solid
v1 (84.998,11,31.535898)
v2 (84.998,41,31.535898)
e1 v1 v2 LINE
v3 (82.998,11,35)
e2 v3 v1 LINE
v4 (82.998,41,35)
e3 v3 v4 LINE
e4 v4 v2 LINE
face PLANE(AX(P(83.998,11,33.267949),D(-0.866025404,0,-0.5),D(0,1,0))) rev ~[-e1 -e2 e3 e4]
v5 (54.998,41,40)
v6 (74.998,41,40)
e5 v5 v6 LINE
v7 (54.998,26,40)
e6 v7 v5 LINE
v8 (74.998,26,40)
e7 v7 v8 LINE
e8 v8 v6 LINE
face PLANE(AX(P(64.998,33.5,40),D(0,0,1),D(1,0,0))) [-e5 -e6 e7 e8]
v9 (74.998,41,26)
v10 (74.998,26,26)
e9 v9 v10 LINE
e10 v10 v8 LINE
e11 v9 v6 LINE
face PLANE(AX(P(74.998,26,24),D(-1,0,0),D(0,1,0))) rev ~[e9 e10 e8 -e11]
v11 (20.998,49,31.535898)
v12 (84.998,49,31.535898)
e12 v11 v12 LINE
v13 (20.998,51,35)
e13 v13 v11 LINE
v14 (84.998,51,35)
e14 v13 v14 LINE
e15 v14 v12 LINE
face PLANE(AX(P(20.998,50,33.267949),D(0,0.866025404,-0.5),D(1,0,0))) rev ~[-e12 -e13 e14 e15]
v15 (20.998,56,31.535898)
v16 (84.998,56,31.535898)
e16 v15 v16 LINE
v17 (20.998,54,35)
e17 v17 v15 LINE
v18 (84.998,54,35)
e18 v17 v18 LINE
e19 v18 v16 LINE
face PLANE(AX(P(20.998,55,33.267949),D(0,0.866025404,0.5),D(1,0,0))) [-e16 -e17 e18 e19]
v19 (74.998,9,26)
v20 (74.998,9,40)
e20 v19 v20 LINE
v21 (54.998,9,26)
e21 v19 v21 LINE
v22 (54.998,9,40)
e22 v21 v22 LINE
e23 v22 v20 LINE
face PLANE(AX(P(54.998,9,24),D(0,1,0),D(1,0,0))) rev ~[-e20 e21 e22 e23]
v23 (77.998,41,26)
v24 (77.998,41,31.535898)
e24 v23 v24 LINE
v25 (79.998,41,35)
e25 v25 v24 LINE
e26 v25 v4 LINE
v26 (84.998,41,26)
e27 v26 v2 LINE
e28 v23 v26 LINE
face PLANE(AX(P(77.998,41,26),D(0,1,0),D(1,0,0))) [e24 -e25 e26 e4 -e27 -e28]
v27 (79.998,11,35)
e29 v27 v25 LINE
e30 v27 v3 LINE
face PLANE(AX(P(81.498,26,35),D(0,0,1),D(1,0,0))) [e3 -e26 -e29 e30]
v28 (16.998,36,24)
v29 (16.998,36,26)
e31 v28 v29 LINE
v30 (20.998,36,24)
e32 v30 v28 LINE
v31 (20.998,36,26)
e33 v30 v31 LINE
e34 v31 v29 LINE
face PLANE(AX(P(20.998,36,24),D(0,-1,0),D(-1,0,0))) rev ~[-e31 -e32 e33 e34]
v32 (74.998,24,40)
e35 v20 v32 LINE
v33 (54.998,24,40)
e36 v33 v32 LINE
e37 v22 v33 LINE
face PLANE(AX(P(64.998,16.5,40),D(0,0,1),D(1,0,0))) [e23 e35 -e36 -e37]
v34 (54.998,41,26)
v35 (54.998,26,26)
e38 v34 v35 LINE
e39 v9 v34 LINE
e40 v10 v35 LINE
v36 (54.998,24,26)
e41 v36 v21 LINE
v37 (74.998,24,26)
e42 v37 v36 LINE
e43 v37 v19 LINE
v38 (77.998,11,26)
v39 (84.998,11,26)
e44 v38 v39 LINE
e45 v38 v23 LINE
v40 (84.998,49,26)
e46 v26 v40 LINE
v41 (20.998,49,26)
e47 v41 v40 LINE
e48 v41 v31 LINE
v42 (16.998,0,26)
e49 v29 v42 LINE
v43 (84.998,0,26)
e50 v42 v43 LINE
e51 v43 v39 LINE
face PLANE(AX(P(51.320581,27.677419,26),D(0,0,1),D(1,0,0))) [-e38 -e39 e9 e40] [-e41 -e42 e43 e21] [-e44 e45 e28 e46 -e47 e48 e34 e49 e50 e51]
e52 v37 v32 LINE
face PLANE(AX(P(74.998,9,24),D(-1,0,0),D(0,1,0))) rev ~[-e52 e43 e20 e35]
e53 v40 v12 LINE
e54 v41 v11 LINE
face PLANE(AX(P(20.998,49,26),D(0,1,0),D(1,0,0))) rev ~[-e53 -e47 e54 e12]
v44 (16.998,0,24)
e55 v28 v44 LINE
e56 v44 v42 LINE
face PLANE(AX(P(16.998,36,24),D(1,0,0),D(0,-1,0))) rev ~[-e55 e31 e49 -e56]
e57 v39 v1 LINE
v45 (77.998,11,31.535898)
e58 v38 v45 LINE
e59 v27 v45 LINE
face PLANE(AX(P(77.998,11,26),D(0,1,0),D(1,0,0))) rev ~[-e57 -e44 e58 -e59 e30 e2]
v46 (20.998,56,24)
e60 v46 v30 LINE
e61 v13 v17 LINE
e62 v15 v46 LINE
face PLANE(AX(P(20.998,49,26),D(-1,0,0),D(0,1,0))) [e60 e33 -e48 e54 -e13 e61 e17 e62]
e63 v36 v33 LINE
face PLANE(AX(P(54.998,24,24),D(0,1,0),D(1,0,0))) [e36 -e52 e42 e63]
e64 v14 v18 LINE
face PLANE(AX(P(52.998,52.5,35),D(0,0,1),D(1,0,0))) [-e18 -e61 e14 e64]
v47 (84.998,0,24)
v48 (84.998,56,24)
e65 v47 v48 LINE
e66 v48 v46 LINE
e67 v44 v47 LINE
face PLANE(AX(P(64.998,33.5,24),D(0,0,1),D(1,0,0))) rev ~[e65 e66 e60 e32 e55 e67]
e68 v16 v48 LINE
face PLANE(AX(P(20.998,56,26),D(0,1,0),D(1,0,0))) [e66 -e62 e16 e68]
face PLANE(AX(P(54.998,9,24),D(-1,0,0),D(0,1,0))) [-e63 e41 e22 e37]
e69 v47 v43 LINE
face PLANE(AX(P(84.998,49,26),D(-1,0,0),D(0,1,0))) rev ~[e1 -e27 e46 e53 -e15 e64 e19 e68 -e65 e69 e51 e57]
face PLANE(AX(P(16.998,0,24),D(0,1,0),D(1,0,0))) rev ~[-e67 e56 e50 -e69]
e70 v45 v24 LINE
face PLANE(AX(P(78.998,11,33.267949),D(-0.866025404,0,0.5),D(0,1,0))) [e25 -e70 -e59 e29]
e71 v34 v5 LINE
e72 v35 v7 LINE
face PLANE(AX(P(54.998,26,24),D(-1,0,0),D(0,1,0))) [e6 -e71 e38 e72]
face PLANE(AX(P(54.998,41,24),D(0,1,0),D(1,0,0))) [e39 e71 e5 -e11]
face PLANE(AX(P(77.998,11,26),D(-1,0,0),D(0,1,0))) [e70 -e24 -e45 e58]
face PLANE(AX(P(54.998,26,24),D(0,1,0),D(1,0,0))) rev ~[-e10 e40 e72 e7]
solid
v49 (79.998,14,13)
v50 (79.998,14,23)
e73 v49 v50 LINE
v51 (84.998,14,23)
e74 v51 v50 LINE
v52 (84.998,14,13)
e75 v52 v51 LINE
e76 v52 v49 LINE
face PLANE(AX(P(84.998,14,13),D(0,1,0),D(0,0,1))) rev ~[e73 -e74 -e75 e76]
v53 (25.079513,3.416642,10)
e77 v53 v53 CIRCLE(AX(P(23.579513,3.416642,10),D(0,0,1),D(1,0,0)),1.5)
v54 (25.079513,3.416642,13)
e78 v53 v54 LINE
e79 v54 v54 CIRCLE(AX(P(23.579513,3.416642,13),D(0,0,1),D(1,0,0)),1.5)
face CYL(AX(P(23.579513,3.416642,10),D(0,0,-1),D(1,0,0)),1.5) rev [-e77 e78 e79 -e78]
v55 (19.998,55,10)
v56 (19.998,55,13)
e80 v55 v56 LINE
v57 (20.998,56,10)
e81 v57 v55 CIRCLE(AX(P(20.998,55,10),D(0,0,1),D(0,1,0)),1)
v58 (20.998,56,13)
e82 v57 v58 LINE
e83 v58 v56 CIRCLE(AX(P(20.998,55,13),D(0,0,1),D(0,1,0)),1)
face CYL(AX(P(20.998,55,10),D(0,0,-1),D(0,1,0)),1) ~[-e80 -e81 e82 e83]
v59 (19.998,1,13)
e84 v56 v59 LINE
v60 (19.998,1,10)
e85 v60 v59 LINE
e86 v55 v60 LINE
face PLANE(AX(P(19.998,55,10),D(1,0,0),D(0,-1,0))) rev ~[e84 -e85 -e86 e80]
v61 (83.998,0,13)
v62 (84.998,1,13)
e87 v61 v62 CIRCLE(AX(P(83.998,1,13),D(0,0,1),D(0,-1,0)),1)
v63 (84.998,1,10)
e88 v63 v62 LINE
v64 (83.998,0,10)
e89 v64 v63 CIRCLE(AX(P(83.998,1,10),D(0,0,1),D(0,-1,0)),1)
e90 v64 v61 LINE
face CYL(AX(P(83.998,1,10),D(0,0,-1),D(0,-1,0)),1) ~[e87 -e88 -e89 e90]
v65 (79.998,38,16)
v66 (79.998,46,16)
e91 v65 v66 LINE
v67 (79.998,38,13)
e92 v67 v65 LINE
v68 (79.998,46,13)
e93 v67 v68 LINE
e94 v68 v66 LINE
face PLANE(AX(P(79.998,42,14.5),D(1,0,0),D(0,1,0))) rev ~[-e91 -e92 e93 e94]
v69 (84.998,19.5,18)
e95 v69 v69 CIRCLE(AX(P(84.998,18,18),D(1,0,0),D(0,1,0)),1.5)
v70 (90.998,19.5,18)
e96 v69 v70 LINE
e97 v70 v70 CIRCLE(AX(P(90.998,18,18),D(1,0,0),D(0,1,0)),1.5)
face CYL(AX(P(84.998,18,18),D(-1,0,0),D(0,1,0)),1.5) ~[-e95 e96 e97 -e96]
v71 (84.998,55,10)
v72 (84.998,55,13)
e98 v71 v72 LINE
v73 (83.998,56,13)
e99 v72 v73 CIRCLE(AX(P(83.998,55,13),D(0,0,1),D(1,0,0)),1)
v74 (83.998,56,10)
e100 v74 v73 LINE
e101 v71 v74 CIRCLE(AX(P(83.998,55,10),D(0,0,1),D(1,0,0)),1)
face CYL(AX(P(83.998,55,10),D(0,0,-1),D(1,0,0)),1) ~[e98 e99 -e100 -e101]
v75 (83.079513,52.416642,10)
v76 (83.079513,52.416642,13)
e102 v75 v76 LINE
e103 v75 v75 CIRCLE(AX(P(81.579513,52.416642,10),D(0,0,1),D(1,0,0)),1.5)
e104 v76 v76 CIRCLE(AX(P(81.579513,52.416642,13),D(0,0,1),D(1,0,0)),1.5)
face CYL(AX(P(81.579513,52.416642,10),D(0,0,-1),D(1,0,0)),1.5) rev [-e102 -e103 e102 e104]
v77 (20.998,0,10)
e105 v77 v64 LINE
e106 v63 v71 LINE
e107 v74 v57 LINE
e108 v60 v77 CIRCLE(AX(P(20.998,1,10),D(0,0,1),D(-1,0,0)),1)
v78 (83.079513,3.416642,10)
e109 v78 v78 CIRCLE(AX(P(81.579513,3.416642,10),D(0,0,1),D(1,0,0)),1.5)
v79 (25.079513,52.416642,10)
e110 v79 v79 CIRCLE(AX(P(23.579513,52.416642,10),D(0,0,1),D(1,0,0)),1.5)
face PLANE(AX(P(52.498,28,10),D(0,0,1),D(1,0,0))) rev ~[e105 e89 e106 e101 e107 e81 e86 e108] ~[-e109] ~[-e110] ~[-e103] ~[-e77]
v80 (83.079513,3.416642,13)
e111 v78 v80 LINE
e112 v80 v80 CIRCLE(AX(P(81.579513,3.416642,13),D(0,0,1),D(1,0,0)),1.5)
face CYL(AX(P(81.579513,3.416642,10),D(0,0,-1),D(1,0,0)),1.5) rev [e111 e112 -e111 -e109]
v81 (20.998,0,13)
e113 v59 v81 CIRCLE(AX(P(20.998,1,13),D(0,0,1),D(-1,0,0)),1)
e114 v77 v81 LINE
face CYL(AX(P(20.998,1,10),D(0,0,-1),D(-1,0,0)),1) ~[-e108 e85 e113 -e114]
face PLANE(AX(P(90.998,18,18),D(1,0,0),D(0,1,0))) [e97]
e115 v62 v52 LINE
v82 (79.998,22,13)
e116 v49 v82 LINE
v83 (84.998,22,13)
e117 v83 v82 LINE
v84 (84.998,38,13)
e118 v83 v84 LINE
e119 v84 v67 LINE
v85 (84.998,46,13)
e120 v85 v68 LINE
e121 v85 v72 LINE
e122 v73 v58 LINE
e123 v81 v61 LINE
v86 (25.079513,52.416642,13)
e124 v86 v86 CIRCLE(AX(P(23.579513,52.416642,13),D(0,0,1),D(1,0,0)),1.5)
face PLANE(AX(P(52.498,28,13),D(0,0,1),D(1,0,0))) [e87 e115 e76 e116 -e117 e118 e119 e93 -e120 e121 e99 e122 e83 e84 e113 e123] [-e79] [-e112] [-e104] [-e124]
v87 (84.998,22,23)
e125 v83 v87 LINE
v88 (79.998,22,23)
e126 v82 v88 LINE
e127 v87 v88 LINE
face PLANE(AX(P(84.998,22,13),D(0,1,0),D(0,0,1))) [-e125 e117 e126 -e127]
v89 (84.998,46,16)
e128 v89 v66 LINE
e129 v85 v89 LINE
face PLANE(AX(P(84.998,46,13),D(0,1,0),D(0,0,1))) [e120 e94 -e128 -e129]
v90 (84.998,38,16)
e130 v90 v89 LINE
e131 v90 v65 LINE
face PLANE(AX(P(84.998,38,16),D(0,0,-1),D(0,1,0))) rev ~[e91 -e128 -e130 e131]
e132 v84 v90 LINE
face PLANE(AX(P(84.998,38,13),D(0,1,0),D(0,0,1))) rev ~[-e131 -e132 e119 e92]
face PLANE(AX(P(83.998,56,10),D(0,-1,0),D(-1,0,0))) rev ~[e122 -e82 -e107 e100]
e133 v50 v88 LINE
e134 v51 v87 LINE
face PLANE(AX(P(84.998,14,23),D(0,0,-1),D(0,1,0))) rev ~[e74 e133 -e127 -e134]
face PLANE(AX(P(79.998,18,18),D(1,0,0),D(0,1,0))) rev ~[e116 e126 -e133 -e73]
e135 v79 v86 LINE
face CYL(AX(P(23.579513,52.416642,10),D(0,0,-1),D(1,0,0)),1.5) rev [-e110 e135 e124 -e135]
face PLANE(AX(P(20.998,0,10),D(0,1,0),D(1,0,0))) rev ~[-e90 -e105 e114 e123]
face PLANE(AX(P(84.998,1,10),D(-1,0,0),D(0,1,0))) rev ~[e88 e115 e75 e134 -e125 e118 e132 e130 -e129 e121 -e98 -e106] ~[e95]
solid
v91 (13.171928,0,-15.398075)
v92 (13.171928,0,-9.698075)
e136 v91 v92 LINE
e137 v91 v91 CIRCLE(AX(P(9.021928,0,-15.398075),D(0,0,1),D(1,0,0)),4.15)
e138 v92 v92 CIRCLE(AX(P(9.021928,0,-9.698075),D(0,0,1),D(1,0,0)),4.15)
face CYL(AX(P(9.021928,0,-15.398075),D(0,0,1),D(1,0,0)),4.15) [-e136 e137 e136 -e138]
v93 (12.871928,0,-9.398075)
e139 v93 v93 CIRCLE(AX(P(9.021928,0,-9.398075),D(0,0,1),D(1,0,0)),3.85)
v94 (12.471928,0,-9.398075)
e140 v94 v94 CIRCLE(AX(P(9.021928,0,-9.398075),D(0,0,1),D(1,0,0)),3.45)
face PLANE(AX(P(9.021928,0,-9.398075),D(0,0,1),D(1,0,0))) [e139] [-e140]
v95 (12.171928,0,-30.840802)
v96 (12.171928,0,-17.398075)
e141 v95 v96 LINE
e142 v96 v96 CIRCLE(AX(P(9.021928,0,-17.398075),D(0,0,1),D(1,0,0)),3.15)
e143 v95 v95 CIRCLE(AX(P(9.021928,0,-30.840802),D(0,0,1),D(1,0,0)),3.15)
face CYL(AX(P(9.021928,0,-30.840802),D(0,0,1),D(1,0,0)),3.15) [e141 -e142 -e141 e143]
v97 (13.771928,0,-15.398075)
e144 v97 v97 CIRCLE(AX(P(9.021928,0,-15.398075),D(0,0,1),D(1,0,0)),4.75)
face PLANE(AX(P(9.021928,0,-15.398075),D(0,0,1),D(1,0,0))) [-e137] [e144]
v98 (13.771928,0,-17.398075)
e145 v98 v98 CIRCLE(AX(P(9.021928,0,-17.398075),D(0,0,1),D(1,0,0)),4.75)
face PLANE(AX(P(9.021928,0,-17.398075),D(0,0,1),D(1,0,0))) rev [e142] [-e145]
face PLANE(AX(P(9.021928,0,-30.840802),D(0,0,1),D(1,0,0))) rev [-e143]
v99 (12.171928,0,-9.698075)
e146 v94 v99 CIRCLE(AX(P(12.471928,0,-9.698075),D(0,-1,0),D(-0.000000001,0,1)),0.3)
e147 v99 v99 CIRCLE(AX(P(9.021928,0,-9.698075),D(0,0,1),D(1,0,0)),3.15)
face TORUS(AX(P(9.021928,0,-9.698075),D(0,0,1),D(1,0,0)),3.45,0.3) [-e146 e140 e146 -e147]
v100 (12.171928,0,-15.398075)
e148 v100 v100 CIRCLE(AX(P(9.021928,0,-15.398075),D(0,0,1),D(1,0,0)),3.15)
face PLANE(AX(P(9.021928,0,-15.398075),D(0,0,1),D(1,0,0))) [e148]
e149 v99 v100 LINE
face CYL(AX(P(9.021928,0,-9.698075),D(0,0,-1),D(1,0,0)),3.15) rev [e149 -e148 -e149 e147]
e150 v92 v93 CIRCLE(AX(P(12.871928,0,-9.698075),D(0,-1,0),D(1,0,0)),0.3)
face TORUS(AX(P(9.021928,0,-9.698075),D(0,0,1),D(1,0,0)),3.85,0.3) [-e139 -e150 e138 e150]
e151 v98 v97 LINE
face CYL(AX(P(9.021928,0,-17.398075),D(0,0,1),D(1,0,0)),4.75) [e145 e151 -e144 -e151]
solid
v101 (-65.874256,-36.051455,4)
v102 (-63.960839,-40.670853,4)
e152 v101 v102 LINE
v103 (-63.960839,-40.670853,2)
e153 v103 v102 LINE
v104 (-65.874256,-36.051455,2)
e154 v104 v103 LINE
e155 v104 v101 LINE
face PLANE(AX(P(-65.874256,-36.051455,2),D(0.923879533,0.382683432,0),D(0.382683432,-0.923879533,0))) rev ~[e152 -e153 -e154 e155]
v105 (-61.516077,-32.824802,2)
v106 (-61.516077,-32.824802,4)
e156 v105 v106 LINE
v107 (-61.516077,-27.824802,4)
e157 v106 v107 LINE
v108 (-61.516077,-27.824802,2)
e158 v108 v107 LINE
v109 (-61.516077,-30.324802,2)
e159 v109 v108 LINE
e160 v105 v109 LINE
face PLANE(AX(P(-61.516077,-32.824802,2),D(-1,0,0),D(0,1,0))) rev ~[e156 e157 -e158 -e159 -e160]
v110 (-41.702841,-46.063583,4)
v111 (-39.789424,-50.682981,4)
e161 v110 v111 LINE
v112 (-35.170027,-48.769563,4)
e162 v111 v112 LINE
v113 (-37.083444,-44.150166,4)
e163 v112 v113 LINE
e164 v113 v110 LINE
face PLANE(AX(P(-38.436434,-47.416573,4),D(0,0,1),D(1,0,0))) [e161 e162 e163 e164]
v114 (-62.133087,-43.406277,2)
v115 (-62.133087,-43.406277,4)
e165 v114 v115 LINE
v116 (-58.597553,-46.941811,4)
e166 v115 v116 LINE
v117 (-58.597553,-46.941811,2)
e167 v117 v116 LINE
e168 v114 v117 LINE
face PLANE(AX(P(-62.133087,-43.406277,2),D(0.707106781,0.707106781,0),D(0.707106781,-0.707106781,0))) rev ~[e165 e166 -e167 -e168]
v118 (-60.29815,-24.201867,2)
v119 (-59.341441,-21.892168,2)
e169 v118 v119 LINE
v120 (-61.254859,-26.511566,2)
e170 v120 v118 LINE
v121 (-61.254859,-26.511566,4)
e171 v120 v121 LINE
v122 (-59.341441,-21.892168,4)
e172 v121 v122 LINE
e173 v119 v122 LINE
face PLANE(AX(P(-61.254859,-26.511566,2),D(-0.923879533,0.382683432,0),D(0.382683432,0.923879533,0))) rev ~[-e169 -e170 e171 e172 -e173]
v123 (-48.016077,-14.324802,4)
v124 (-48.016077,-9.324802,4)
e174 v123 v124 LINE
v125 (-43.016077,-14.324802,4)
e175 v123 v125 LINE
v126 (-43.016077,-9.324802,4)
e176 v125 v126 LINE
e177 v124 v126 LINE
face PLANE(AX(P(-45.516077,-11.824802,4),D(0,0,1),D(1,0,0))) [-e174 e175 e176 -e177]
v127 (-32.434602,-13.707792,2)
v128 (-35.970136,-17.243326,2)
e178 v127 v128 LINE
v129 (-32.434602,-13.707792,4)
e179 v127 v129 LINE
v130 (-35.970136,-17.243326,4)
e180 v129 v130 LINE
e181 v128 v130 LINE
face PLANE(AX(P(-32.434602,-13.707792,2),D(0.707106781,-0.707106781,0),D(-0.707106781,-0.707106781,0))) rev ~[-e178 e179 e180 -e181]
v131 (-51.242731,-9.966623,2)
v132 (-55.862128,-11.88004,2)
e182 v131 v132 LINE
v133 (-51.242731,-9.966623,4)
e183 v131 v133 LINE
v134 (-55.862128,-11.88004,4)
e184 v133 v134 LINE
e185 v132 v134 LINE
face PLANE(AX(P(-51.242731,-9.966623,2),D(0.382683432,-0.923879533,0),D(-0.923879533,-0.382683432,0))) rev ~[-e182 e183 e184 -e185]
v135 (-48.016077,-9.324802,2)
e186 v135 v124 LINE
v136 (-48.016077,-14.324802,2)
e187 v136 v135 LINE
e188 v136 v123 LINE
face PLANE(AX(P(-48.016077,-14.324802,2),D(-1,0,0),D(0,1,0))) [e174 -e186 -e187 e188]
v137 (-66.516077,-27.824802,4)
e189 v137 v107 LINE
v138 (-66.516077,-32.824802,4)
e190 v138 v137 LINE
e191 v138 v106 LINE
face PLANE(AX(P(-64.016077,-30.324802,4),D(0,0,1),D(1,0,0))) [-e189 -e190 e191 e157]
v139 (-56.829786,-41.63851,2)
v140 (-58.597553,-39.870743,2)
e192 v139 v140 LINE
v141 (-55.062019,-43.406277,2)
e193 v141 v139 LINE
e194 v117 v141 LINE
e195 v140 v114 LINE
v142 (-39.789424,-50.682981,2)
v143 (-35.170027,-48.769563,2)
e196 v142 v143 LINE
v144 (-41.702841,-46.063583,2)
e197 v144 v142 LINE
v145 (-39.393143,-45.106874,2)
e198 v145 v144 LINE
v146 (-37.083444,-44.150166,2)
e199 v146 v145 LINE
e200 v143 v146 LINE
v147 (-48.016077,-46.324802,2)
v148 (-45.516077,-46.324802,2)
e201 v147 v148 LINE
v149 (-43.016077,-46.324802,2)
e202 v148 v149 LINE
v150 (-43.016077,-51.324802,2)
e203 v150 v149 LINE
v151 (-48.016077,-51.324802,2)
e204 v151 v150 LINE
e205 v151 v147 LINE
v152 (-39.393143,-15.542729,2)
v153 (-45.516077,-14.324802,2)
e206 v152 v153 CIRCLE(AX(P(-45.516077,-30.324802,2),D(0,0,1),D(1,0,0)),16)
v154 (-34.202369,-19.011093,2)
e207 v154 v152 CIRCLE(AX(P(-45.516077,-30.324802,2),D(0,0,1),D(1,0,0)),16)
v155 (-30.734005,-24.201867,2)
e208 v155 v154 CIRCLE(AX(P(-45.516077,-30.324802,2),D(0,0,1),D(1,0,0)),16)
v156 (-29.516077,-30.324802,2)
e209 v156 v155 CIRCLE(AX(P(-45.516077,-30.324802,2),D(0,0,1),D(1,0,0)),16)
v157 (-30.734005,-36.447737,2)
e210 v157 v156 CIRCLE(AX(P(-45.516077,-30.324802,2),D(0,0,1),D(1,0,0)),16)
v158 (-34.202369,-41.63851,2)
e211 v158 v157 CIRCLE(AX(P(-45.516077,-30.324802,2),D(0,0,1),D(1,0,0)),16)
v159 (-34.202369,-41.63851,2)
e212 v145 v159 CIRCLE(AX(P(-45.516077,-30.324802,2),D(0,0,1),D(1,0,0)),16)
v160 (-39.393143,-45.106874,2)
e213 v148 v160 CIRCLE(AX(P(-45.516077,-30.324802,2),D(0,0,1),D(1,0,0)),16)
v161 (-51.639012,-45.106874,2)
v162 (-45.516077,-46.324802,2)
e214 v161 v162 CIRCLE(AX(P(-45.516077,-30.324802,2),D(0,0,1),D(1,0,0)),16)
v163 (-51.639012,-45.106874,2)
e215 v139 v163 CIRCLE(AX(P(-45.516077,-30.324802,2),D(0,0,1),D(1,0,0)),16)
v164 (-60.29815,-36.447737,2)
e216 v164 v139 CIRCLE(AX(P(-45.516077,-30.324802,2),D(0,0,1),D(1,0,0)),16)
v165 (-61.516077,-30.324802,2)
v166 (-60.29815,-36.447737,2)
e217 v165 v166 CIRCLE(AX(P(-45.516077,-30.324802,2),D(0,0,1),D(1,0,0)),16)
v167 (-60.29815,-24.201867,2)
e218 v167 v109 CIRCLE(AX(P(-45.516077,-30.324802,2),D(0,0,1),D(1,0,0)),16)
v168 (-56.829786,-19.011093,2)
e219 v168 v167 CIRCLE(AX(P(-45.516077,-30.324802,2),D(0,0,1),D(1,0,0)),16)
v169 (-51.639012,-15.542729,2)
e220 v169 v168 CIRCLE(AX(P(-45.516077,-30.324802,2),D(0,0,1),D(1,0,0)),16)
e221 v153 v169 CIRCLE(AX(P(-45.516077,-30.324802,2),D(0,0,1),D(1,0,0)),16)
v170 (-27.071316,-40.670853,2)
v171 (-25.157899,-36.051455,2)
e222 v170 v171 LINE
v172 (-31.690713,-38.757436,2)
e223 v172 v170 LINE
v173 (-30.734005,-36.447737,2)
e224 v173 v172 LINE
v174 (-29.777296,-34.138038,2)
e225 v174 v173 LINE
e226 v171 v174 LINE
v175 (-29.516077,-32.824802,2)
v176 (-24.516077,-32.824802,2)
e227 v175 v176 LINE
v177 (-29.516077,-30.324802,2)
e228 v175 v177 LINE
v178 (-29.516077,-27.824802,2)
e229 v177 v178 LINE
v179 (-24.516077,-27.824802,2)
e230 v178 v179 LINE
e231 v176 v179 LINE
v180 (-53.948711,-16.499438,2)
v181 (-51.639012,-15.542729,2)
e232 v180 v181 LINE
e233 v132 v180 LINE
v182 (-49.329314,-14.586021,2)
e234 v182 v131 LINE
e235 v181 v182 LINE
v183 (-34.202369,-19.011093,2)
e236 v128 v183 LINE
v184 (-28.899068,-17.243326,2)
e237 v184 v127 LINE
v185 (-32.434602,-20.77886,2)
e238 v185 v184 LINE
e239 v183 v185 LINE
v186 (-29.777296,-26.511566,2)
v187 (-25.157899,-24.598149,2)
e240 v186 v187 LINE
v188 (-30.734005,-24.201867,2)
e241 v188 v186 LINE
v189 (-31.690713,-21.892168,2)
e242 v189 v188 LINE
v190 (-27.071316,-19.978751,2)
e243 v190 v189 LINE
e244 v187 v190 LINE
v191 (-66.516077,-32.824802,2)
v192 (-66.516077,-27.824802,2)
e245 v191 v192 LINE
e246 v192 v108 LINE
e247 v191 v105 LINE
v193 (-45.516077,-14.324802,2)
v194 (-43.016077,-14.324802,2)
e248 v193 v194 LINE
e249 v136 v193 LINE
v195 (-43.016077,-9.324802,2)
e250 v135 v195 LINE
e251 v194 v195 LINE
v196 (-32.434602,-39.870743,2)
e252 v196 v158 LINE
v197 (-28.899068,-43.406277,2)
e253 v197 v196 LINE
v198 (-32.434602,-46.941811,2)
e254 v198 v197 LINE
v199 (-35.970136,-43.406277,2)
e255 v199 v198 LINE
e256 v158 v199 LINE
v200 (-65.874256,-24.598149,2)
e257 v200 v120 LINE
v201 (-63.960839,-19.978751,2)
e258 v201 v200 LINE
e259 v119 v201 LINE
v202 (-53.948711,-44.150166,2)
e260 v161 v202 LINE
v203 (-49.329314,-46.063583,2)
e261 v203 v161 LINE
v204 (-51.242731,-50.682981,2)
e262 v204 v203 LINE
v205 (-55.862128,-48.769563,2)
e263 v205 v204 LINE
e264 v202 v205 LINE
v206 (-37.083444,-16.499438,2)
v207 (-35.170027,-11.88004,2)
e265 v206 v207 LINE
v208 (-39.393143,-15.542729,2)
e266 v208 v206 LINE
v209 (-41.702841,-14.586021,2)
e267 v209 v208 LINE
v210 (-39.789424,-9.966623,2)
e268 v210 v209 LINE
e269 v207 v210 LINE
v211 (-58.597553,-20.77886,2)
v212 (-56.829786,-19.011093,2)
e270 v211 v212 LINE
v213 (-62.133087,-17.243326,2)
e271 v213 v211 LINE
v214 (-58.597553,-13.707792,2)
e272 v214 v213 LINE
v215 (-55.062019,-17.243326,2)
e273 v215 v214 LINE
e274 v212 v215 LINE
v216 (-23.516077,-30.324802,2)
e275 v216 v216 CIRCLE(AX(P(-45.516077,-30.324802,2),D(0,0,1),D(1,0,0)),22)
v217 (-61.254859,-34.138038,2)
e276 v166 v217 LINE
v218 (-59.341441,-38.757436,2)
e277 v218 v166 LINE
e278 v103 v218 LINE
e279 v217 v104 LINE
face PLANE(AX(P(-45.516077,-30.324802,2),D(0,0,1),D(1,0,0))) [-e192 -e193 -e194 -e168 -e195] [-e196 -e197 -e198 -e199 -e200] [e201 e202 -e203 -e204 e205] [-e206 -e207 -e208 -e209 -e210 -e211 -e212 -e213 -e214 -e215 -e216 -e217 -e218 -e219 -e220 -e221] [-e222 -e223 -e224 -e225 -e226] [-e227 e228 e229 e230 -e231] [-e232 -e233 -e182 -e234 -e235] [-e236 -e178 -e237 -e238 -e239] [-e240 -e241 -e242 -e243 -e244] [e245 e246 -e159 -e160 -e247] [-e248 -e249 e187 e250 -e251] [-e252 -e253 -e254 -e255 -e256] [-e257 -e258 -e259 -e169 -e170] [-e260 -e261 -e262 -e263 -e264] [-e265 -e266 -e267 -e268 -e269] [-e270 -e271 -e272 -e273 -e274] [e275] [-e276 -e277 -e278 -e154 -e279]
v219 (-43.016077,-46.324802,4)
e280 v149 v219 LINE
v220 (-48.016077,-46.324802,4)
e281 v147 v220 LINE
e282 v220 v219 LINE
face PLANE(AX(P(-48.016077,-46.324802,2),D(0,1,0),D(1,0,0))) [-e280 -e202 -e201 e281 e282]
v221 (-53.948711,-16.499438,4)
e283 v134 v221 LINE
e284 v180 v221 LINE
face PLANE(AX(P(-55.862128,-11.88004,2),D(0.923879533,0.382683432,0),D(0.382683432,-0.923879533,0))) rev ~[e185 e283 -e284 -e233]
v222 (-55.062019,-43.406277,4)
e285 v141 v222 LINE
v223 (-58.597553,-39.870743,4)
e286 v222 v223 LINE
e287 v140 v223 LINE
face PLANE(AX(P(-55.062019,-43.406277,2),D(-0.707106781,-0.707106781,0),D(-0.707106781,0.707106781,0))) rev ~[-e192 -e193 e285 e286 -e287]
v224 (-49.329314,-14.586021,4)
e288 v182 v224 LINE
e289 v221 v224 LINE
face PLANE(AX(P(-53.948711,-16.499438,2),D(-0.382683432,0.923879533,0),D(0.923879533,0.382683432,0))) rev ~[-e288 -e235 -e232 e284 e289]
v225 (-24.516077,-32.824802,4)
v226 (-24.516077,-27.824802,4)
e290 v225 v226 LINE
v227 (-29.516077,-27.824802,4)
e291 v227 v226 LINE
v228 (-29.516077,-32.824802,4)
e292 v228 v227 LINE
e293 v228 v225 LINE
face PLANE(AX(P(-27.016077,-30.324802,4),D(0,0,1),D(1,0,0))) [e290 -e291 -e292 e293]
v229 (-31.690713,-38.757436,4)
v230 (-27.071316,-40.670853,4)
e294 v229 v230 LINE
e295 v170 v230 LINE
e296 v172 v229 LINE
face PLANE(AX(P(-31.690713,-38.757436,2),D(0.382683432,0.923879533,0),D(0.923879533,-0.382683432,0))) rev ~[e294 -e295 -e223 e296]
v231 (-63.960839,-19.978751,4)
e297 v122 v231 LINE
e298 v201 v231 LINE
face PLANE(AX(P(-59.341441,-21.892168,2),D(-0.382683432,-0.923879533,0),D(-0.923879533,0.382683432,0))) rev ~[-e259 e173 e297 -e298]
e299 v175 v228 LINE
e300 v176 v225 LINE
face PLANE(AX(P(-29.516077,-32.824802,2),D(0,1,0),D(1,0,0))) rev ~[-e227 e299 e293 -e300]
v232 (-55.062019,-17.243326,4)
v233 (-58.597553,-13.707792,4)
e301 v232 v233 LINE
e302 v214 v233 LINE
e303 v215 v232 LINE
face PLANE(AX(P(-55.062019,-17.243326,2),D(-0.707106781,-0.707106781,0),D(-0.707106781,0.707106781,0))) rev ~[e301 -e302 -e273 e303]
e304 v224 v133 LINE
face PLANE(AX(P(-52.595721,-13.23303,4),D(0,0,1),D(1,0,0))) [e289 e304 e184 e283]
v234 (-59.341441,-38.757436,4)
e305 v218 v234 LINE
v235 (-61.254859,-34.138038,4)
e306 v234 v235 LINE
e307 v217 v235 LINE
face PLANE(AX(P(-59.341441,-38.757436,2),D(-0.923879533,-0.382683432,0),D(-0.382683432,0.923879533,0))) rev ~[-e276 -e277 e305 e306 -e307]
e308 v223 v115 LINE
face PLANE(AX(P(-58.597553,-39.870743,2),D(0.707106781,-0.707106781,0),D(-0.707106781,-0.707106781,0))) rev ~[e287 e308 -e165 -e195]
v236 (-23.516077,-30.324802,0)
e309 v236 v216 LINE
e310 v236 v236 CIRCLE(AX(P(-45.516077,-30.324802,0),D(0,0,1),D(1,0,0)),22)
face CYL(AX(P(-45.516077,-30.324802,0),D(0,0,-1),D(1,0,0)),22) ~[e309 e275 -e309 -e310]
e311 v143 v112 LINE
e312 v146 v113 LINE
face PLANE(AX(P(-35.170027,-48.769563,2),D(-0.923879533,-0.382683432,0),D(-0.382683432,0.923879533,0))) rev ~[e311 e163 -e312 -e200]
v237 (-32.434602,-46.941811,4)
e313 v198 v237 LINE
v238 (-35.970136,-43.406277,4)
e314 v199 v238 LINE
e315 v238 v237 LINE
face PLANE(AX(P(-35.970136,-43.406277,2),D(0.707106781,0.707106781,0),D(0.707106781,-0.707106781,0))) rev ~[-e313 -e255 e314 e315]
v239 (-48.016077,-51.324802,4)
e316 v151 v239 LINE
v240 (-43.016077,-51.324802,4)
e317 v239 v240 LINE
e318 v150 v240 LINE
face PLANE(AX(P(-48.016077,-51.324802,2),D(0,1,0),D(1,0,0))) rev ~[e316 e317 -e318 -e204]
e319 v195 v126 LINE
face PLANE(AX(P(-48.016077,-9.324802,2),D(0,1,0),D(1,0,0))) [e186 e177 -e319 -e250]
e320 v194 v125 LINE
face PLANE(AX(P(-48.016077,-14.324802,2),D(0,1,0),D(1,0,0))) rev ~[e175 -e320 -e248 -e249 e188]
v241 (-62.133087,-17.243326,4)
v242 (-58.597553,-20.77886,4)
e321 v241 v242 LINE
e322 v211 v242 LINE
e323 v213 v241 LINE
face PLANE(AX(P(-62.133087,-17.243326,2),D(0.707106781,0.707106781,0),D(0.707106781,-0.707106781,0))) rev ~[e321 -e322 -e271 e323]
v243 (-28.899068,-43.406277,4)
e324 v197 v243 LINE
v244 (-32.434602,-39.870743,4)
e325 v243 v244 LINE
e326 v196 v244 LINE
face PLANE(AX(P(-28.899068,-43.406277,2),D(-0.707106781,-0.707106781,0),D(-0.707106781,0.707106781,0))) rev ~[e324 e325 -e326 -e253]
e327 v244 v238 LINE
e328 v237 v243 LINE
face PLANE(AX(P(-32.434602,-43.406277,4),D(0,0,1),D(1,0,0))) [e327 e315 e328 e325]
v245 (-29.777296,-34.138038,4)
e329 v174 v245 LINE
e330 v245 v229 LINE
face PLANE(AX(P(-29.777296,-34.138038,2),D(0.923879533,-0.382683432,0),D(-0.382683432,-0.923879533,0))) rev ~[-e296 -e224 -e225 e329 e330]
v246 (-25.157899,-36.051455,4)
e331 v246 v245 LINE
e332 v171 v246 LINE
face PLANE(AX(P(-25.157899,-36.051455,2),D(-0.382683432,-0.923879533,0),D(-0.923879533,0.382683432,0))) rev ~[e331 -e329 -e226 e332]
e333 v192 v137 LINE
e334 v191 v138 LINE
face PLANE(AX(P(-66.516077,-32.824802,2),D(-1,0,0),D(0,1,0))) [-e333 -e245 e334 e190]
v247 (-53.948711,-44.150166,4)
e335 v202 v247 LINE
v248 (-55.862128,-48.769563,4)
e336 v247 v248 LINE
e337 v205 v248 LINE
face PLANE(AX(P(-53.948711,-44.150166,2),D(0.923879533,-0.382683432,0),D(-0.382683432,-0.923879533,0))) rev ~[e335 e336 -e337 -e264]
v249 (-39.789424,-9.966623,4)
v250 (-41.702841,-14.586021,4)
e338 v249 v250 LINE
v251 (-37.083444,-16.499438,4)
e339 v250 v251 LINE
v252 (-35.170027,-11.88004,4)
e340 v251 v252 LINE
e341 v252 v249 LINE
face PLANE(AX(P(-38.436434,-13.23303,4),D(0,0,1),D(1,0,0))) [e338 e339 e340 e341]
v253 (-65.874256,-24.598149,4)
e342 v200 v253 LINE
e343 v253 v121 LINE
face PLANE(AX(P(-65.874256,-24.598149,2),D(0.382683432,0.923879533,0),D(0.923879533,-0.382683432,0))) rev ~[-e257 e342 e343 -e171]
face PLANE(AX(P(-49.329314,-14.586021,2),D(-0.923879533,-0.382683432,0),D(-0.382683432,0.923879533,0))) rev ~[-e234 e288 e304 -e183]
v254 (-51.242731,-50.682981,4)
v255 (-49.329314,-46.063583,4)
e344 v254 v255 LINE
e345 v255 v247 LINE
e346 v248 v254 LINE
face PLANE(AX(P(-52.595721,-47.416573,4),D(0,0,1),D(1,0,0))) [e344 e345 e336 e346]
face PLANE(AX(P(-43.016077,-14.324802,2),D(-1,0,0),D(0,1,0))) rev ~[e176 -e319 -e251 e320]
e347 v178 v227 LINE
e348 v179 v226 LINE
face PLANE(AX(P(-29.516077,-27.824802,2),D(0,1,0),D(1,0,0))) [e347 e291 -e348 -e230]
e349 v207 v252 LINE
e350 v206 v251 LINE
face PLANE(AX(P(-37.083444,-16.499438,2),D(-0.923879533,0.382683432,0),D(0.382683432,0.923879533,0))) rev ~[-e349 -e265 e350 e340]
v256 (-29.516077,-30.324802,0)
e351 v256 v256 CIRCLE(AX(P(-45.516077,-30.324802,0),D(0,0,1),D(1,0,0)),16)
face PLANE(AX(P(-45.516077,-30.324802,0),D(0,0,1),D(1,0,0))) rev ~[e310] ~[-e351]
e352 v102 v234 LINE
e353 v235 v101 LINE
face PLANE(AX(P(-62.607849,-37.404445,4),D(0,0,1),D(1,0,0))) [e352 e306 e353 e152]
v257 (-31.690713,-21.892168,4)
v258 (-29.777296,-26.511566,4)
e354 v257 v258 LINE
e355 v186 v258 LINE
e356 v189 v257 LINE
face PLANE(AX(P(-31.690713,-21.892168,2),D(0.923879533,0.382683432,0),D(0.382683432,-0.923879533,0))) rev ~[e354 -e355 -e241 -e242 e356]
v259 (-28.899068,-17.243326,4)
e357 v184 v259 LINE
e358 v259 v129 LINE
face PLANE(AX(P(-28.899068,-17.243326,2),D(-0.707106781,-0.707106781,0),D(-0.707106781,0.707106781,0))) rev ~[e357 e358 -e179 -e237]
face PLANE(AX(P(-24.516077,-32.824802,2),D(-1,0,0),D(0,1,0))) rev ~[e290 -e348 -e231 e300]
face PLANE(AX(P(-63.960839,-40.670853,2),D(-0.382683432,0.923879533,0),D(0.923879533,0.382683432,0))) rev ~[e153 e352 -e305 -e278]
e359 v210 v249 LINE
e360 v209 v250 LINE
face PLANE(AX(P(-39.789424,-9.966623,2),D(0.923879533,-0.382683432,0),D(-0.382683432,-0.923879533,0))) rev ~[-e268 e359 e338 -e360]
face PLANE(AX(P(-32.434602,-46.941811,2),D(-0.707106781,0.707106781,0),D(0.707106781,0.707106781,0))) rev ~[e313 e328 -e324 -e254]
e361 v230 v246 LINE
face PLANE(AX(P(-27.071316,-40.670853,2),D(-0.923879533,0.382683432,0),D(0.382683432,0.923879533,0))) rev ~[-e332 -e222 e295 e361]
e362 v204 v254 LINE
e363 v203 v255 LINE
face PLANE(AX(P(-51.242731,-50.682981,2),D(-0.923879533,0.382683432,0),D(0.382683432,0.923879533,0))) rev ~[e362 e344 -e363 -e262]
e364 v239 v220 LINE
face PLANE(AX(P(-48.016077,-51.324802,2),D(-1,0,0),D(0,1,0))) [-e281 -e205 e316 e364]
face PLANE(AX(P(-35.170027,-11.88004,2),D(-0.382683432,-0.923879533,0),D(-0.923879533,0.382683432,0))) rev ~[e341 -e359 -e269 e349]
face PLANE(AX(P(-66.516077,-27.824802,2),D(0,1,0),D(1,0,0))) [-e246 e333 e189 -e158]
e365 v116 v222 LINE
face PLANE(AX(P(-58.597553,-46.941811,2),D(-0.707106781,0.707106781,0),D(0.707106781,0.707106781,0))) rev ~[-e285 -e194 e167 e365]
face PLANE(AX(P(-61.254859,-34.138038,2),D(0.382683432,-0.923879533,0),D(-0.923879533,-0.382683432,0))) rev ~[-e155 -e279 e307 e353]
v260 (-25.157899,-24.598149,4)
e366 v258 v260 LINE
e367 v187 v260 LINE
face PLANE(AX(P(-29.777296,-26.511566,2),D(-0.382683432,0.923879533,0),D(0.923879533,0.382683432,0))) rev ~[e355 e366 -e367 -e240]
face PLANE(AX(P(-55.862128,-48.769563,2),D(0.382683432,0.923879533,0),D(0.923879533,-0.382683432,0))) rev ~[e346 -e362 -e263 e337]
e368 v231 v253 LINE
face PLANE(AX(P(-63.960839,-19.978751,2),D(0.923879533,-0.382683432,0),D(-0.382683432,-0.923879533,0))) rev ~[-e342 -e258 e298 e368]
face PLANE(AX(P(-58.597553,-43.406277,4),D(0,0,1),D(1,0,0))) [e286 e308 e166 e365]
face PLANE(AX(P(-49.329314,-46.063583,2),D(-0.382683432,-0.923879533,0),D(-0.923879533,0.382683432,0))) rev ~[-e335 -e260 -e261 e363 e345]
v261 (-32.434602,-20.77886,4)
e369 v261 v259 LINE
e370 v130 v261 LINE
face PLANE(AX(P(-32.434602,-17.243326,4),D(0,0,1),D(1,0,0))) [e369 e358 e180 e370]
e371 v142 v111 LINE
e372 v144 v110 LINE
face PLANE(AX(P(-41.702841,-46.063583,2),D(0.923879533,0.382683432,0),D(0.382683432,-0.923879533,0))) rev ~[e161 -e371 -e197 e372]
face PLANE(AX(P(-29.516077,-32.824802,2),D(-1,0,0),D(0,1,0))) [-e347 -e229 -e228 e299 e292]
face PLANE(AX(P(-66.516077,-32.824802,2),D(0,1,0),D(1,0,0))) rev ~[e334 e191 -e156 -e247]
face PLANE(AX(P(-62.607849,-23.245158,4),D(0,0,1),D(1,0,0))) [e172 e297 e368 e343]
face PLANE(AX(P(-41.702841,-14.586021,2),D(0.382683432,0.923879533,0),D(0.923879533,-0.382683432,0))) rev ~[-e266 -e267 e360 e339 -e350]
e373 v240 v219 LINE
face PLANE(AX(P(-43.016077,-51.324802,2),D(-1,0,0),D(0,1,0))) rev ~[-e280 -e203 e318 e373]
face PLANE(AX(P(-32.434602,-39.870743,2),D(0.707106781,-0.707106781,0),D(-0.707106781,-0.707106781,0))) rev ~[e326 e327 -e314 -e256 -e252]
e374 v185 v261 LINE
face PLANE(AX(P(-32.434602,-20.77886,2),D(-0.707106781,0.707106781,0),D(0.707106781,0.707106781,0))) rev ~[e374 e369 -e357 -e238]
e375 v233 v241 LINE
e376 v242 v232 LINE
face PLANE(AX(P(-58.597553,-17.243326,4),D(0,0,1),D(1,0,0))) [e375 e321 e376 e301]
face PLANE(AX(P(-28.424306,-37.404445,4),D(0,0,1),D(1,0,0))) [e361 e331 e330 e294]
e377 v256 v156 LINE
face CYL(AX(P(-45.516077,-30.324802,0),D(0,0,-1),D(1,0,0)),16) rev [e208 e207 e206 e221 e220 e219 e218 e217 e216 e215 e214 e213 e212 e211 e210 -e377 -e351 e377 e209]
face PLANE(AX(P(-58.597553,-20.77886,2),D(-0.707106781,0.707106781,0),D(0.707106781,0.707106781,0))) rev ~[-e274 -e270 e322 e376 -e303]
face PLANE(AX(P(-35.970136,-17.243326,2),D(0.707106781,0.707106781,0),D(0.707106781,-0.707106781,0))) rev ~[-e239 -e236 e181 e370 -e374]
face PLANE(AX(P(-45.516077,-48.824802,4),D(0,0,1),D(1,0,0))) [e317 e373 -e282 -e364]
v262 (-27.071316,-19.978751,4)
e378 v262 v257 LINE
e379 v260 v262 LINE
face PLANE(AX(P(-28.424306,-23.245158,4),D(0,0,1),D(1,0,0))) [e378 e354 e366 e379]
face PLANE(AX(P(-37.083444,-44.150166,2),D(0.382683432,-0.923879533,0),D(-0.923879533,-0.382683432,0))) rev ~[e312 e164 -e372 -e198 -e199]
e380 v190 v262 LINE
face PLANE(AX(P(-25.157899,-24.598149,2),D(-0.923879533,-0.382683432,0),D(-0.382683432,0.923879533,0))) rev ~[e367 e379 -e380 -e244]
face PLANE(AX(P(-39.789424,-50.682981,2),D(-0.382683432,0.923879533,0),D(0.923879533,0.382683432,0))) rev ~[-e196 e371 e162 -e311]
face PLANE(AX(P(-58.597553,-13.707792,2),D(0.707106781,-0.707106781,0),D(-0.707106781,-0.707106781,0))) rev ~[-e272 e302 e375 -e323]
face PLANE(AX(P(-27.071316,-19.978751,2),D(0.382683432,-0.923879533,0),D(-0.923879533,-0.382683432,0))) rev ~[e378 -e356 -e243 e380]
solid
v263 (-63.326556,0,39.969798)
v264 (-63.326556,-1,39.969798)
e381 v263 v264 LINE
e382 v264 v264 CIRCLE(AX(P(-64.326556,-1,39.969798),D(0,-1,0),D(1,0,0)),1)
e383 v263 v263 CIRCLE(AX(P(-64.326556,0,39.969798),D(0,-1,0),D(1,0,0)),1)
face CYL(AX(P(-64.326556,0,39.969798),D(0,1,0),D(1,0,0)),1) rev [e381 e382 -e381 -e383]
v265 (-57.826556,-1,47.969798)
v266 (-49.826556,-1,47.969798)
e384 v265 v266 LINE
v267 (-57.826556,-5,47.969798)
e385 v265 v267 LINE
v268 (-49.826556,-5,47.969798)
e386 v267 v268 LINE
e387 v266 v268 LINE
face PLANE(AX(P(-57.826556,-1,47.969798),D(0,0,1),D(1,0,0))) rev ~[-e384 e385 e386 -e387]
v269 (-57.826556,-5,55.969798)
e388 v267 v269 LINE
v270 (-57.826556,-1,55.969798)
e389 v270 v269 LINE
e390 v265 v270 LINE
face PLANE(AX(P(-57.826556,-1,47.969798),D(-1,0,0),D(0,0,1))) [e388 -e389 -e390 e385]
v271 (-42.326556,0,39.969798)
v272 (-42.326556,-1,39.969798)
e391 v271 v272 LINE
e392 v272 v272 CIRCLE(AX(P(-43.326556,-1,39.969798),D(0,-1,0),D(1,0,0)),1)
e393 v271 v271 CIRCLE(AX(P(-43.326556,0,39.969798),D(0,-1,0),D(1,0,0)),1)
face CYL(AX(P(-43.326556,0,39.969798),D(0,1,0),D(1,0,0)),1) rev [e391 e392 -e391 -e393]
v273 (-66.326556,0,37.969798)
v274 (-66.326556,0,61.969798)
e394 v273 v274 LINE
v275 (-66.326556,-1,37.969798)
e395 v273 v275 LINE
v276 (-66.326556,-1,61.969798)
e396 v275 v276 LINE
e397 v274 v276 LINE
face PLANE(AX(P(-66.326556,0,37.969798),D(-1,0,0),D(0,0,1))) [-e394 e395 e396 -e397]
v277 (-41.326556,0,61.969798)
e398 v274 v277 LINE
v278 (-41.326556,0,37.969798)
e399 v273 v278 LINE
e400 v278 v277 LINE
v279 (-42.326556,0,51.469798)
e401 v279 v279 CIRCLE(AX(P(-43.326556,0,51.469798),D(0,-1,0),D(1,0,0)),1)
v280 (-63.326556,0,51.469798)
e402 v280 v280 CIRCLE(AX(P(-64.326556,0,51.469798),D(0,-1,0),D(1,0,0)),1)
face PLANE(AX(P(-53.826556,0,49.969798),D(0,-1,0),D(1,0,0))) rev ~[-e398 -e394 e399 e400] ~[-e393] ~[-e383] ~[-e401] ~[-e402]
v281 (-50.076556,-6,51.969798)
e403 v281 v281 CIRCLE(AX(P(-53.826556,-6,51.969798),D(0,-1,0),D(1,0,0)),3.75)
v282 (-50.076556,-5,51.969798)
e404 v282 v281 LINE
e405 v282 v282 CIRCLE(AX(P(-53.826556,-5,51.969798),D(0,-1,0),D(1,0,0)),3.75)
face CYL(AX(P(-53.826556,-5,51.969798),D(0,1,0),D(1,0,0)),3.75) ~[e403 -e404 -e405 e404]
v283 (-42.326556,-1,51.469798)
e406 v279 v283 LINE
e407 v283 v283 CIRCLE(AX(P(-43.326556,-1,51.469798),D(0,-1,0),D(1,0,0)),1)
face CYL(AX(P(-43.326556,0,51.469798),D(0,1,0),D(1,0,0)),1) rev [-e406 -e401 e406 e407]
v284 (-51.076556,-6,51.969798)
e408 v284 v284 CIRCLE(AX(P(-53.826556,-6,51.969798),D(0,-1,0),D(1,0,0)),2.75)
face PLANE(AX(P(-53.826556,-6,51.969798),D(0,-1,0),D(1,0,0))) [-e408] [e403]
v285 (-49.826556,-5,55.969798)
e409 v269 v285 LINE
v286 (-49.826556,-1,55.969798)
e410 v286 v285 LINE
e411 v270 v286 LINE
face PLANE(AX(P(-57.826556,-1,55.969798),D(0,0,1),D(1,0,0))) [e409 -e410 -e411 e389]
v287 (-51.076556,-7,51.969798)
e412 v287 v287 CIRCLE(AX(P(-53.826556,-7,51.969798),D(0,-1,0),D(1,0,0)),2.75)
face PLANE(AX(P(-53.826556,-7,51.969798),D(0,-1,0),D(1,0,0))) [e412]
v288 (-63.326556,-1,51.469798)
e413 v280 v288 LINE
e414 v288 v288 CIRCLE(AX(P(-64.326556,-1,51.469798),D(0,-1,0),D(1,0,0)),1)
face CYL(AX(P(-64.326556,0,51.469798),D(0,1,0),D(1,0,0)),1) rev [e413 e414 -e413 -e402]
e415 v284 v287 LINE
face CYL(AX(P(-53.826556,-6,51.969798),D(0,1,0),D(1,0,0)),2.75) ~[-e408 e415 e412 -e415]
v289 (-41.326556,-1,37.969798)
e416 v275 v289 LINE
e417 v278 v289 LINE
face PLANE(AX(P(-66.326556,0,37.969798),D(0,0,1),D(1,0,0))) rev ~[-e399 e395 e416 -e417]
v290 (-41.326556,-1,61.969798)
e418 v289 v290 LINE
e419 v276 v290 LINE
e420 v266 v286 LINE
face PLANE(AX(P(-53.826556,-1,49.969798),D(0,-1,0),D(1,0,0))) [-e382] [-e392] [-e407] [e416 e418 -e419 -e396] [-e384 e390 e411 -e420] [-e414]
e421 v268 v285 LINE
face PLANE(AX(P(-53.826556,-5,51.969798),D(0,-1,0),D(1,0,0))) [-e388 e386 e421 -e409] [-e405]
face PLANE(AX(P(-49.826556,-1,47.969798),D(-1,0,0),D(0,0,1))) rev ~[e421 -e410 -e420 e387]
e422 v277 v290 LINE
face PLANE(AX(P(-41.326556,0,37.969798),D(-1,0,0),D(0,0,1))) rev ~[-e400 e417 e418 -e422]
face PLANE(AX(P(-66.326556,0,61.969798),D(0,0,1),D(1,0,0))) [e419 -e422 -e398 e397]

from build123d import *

# Parameters (mm, degrees)
F1_R        = 1.5
F2_DEPTH    = 3
F3_W        = 8
F3_H        = 10
F3_H_2      = 3
F4_DEPTH    = 5
F5_R        = 1.5
F6_DEPTH    = 6
F7_R        = 22
F7_R_2      = 16
F8_DEPTH    = 2
F9_W        = 5
F9_H        = 5
F10_DEPTH   = 2
F13_DEPTH   = 2
F14_W       = 64
F14_H       = 7
F14_W_2     = 7
F14_H_2     = 30
F15_DEPTH   = 9
F16_SIZE2   = 3.4641016151
F16_SIZE    = 2
F16_2_SIZE2 = 3.4641016151
F16_2_SIZE  = 2
F17_W       = 20
F17_H       = 15
F18_DEPTH   = 16
F21_W       = 25
F21_H       = 24
F21_R       = 1
F22_DEPTH   = 1
F23_W       = 8
F23_H       = 8
F24_DEPTH   = 4
F25_R       = 3.75
F26_DEPTH   = 1
F27_R       = 2.75
F28_DEPTH   = 1


with BuildPart() as f2:
    # F1 (on offset) → F2 (new body)
    with BuildSketch(Plane.XY.offset(10)):
        with BuildLine():
            ThreePointArc((19.998, 1), (20.2908932188, 0.2928932188), (20.998, 0))
            Line((20.998, 0), (83.998, 0))
            ThreePointArc((83.998, 0), (84.7051067812, 0.2928932188), (84.998, 1))
            Line((84.998, 1), (84.998, 55))
            ThreePointArc((84.998, 55), (84.7051067812, 55.7071067812), (83.998, 56))
            Line((83.998, 56), (20.998, 56))
            ThreePointArc((20.998, 56), (20.2908932188, 55.7071067812), (19.998, 55))
            Line((19.998, 55), (19.998, 1))
        make_face()
        with Locations((23.5795132479, 3.4166420319)):
            Circle(F1_R, mode=Mode.SUBTRACT)
        with Locations((81.5795132479, 3.4166420319)):
            Circle(F1_R, mode=Mode.SUBTRACT)
        with Locations((23.5795132479, 52.4166420319)):
            Circle(F1_R, mode=Mode.SUBTRACT)
        with Locations((81.5795132479, 52.4166420319)):
            Circle(F1_R, mode=Mode.SUBTRACT)
    extrude(amount=F2_DEPTH)

    # F3 (on face) → F4 (join)
    with BuildSketch(Plane.YZ.offset(84.998)):
        with Locations((18, 18)):
            Rectangle(F3_W, F3_H)
        with Locations((42, 14.5)):
            Rectangle(F3_W, F3_H_2)
    extrude(amount=-F4_DEPTH)

    # F5 (on face) → F6 (join)
    with BuildSketch(Plane.YZ.offset(84.998)):
        with Locations((18, 18)):
            Circle(F5_R)
    extrude(amount=F6_DEPTH)


with BuildPart() as f8:
    # F7 (on Top) → F8 (new body)
    with BuildSketch(Plane.XY):
        with Locations((-45.5160774291, -30.3248018026)):
            Circle(F7_R)
        with Locations((-45.5160774291, -30.3248018026)):
            Circle(F7_R_2, mode=Mode.SUBTRACT)
    extrude(amount=F8_DEPTH)

    # F9 (on face) → F10 (join)
    with BuildSketch(Plane.XY.offset(2)):
        with Locations((-64.0160774291, -30.3248018026)):
            Rectangle(F9_W, F9_H)
        Polygon((-59.3414413683, -38.7574355518), (-61.2548585301, -34.1380378892), (-65.8742561927, -36.051455051), (-63.9608390309, -40.6708527136), align=None)
        Polygon((-55.0620189751, -43.4062772546), (-58.597552881, -39.8707433487), (-62.1330867869, -43.4062772546), (-58.597552881, -46.9418111605), align=None)
        Polygon((-49.3293135156, -46.0635829037), (-53.9487111782, -44.1501657419), (-55.86212834, -48.7695634045), (-51.2427306774, -50.6829805663), align=None)
        with Locations((-45.5160774291, -48.8248018026)):
            Rectangle(F9_W, F9_H)
        Polygon((-37.0834436799, -44.1501657419), (-41.7028413425, -46.0635829037), (-39.7894241807, -50.6829805663), (-35.1700265181, -48.7695634045), align=None)
        Polygon((-32.4346019771, -39.8707433487), (-35.970135883, -43.4062772546), (-32.4346019771, -46.9418111605), (-28.8990680712, -43.4062772546), align=None)
        Polygon((-29.777296328, -34.1380378892), (-31.6907134898, -38.7574355518), (-27.0713158272, -40.6708527136), (-25.1578986654, -36.051455051), align=None)
        with Locations((-27.0160774291, -30.3248018026)):
            Rectangle(F9_W, F9_H)
        Polygon((-31.6907134898, -21.8921680535), (-29.777296328, -26.5115657161), (-25.1578986654, -24.5981485542), (-27.0713158272, -19.9787508917), align=None)
        Polygon((-35.970135883, -17.2433263507), (-32.4346019771, -20.7788602566), (-28.8990680712, -17.2433263507), (-32.4346019771, -13.7077924448), align=None)
        Polygon((-41.7028413425, -14.5860207015), (-37.0834436799, -16.4994378634), (-35.1700265181, -11.8800402008), (-39.7894241807, -9.966623039), align=None)
        with Locations((-45.5160774291, -11.8248018026)):
            Rectangle(F9_W, F9_H)
        Polygon((-53.9487111782, -16.4994378634), (-49.3293135156, -14.5860207015), (-51.2427306774, -9.966623039), (-55.86212834, -11.8800402008), align=None)
        Polygon((-58.597552881, -20.7788602566), (-55.0620189751, -17.2433263507), (-58.597552881, -13.7077924448), (-62.1330867869, -17.2433263507), align=None)
        Polygon((-61.2548585301, -26.5115657161), (-59.3414413683, -21.8921680535), (-63.9608390309, -19.9787508917), (-65.8742561927, -24.5981485542), align=None)
    extrude(amount=F10_DEPTH)


with BuildPart() as f13:
    # F12 (on offset) → F13 (new body)
    with BuildSketch(Plane.XY.offset(24)):
        Polygon((84.998, 0), (84.998, 56), (20.998, 56), (20.998, 36), (16.998, 36), (16.998, 0), align=None)
    extrude(amount=F13_DEPTH)

    # F14 (on face) → F15 (join)
    with BuildSketch(Plane.XY.offset(26)):
        with Locations((52.998, 52.5)):
            Rectangle(F14_W, F14_H)
        with Locations((81.498, 26)):
            Rectangle(F14_W_2, F14_H_2)
    extrude(amount=F15_DEPTH)

    # F16
    f16_edges = [f13.edges().sort_by_distance(p)[0] for p in [
        (77.998, 26, 35),
        (84.998, 26, 35),
    ]]
    f16_side = f13.faces().sort_by_distance((81.498, 26, 35))[0]
    chamfer(f16_edges, length=F16_SIZE, length2=F16_SIZE2, reference=f16_side)

    # F16#2
    f16_2_edges = [f13.edges().sort_by_distance(p)[0] for p in [
        (52.998, 49, 35),
        (52.998, 56, 35),
    ]]
    f16_2_side = f13.faces().sort_by_distance((52.998, 52.5, 35))[0]
    chamfer(f16_2_edges, length=F16_2_SIZE, length2=F16_2_SIZE2, reference=f16_2_side)

    # F17 (on offset) → F18 (join)
    with BuildSketch(Plane.XY.offset(24)):
        with Locations((64.998, 33.5)):
            Rectangle(F17_W, F17_H)
        with Locations((64.998, 16.5)):
            Rectangle(F17_W, F17_H)
    extrude(amount=F18_DEPTH)


with BuildPart() as f20:
    # F19 (on Front) → F20 (revolve)
    with BuildSketch(Plane.XZ):
        with BuildLine():
            Line((12.8719275825, -9.398075133), (12.4719275825, -9.398075133))
            ThreePointArc((12.4719275825, -9.398075133), (12.2597955482, -9.4859430987), (12.1719275825, -9.698075133))
            Line((12.1719275825, -9.698075133), (12.1719275825, -15.398075133))
            Line((12.1719275825, -15.398075133), (9.0219275825, -15.398075133))
            Line((9.0219275825, -15.398075133), (9.0219275825, -30.840801694))
            Line((9.0219275825, -30.840801694), (12.1719275825, -30.840801694))
            Line((12.1719275825, -30.840801694), (12.1719275825, -17.398075133))
            Line((12.1719275825, -17.398075133), (13.7719275825, -17.398075133))
            Line((13.7719275825, -17.398075133), (13.7719275825, -15.398075133))
            Line((13.7719275825, -15.398075133), (13.1719275825, -15.398075133))
            Line((13.1719275825, -15.398075133), (13.1719275825, -9.698075133))
            ThreePointArc((13.1719275825, -9.698075133), (13.0840596169, -9.4859430987), (12.8719275825, -9.398075133))
        make_face()
    revolve(axis=Axis((9.0219275825, 0, -23.1194384135), (0, 0, 1)))


with BuildPart() as f22:
    # F21 (on Front) → F22 (new body)
    with BuildSketch(Plane.XZ):
        with Locations((-53.8265563751, 49.9697977901)):
            Rectangle(F21_W, F21_H)
        with Locations((-64.3265563751, 39.9697977901)):
            Circle(F21_R, mode=Mode.SUBTRACT)
        with Locations((-43.3265563751, 39.9697977901)):
            Circle(F21_R, mode=Mode.SUBTRACT)
        with Locations((-64.3265563751, 51.4697977901)):
            Circle(F21_R, mode=Mode.SUBTRACT)
        with Locations((-43.3265563751, 51.4697977901)):
            Circle(F21_R, mode=Mode.SUBTRACT)
    extrude(amount=F22_DEPTH)

    # F23 (on face) → F24 (join)
    with BuildSketch(Plane.XZ.offset(1)):
        with Locations((-53.8265563751, 51.9697977901)):
            Rectangle(F23_W, F23_H)
    extrude(amount=F24_DEPTH)

    # F25 (on face) → F26 (join)
    with BuildSketch(Plane.XZ.offset(5)):
        with Locations((-53.8265563751, 51.9697977901)):
            Circle(F25_R)
    extrude(amount=F26_DEPTH)

    # F27 (on face) → F28 (join)
    with BuildSketch(Plane.XZ.offset(6)):
        with Locations((-53.8265563751, 51.9697977901)):
            Circle(F27_R)
    extrude(amount=F28_DEPTH)


solid = Compound([f2.part, f8.part, f13.part, f20.part, f22.part])
